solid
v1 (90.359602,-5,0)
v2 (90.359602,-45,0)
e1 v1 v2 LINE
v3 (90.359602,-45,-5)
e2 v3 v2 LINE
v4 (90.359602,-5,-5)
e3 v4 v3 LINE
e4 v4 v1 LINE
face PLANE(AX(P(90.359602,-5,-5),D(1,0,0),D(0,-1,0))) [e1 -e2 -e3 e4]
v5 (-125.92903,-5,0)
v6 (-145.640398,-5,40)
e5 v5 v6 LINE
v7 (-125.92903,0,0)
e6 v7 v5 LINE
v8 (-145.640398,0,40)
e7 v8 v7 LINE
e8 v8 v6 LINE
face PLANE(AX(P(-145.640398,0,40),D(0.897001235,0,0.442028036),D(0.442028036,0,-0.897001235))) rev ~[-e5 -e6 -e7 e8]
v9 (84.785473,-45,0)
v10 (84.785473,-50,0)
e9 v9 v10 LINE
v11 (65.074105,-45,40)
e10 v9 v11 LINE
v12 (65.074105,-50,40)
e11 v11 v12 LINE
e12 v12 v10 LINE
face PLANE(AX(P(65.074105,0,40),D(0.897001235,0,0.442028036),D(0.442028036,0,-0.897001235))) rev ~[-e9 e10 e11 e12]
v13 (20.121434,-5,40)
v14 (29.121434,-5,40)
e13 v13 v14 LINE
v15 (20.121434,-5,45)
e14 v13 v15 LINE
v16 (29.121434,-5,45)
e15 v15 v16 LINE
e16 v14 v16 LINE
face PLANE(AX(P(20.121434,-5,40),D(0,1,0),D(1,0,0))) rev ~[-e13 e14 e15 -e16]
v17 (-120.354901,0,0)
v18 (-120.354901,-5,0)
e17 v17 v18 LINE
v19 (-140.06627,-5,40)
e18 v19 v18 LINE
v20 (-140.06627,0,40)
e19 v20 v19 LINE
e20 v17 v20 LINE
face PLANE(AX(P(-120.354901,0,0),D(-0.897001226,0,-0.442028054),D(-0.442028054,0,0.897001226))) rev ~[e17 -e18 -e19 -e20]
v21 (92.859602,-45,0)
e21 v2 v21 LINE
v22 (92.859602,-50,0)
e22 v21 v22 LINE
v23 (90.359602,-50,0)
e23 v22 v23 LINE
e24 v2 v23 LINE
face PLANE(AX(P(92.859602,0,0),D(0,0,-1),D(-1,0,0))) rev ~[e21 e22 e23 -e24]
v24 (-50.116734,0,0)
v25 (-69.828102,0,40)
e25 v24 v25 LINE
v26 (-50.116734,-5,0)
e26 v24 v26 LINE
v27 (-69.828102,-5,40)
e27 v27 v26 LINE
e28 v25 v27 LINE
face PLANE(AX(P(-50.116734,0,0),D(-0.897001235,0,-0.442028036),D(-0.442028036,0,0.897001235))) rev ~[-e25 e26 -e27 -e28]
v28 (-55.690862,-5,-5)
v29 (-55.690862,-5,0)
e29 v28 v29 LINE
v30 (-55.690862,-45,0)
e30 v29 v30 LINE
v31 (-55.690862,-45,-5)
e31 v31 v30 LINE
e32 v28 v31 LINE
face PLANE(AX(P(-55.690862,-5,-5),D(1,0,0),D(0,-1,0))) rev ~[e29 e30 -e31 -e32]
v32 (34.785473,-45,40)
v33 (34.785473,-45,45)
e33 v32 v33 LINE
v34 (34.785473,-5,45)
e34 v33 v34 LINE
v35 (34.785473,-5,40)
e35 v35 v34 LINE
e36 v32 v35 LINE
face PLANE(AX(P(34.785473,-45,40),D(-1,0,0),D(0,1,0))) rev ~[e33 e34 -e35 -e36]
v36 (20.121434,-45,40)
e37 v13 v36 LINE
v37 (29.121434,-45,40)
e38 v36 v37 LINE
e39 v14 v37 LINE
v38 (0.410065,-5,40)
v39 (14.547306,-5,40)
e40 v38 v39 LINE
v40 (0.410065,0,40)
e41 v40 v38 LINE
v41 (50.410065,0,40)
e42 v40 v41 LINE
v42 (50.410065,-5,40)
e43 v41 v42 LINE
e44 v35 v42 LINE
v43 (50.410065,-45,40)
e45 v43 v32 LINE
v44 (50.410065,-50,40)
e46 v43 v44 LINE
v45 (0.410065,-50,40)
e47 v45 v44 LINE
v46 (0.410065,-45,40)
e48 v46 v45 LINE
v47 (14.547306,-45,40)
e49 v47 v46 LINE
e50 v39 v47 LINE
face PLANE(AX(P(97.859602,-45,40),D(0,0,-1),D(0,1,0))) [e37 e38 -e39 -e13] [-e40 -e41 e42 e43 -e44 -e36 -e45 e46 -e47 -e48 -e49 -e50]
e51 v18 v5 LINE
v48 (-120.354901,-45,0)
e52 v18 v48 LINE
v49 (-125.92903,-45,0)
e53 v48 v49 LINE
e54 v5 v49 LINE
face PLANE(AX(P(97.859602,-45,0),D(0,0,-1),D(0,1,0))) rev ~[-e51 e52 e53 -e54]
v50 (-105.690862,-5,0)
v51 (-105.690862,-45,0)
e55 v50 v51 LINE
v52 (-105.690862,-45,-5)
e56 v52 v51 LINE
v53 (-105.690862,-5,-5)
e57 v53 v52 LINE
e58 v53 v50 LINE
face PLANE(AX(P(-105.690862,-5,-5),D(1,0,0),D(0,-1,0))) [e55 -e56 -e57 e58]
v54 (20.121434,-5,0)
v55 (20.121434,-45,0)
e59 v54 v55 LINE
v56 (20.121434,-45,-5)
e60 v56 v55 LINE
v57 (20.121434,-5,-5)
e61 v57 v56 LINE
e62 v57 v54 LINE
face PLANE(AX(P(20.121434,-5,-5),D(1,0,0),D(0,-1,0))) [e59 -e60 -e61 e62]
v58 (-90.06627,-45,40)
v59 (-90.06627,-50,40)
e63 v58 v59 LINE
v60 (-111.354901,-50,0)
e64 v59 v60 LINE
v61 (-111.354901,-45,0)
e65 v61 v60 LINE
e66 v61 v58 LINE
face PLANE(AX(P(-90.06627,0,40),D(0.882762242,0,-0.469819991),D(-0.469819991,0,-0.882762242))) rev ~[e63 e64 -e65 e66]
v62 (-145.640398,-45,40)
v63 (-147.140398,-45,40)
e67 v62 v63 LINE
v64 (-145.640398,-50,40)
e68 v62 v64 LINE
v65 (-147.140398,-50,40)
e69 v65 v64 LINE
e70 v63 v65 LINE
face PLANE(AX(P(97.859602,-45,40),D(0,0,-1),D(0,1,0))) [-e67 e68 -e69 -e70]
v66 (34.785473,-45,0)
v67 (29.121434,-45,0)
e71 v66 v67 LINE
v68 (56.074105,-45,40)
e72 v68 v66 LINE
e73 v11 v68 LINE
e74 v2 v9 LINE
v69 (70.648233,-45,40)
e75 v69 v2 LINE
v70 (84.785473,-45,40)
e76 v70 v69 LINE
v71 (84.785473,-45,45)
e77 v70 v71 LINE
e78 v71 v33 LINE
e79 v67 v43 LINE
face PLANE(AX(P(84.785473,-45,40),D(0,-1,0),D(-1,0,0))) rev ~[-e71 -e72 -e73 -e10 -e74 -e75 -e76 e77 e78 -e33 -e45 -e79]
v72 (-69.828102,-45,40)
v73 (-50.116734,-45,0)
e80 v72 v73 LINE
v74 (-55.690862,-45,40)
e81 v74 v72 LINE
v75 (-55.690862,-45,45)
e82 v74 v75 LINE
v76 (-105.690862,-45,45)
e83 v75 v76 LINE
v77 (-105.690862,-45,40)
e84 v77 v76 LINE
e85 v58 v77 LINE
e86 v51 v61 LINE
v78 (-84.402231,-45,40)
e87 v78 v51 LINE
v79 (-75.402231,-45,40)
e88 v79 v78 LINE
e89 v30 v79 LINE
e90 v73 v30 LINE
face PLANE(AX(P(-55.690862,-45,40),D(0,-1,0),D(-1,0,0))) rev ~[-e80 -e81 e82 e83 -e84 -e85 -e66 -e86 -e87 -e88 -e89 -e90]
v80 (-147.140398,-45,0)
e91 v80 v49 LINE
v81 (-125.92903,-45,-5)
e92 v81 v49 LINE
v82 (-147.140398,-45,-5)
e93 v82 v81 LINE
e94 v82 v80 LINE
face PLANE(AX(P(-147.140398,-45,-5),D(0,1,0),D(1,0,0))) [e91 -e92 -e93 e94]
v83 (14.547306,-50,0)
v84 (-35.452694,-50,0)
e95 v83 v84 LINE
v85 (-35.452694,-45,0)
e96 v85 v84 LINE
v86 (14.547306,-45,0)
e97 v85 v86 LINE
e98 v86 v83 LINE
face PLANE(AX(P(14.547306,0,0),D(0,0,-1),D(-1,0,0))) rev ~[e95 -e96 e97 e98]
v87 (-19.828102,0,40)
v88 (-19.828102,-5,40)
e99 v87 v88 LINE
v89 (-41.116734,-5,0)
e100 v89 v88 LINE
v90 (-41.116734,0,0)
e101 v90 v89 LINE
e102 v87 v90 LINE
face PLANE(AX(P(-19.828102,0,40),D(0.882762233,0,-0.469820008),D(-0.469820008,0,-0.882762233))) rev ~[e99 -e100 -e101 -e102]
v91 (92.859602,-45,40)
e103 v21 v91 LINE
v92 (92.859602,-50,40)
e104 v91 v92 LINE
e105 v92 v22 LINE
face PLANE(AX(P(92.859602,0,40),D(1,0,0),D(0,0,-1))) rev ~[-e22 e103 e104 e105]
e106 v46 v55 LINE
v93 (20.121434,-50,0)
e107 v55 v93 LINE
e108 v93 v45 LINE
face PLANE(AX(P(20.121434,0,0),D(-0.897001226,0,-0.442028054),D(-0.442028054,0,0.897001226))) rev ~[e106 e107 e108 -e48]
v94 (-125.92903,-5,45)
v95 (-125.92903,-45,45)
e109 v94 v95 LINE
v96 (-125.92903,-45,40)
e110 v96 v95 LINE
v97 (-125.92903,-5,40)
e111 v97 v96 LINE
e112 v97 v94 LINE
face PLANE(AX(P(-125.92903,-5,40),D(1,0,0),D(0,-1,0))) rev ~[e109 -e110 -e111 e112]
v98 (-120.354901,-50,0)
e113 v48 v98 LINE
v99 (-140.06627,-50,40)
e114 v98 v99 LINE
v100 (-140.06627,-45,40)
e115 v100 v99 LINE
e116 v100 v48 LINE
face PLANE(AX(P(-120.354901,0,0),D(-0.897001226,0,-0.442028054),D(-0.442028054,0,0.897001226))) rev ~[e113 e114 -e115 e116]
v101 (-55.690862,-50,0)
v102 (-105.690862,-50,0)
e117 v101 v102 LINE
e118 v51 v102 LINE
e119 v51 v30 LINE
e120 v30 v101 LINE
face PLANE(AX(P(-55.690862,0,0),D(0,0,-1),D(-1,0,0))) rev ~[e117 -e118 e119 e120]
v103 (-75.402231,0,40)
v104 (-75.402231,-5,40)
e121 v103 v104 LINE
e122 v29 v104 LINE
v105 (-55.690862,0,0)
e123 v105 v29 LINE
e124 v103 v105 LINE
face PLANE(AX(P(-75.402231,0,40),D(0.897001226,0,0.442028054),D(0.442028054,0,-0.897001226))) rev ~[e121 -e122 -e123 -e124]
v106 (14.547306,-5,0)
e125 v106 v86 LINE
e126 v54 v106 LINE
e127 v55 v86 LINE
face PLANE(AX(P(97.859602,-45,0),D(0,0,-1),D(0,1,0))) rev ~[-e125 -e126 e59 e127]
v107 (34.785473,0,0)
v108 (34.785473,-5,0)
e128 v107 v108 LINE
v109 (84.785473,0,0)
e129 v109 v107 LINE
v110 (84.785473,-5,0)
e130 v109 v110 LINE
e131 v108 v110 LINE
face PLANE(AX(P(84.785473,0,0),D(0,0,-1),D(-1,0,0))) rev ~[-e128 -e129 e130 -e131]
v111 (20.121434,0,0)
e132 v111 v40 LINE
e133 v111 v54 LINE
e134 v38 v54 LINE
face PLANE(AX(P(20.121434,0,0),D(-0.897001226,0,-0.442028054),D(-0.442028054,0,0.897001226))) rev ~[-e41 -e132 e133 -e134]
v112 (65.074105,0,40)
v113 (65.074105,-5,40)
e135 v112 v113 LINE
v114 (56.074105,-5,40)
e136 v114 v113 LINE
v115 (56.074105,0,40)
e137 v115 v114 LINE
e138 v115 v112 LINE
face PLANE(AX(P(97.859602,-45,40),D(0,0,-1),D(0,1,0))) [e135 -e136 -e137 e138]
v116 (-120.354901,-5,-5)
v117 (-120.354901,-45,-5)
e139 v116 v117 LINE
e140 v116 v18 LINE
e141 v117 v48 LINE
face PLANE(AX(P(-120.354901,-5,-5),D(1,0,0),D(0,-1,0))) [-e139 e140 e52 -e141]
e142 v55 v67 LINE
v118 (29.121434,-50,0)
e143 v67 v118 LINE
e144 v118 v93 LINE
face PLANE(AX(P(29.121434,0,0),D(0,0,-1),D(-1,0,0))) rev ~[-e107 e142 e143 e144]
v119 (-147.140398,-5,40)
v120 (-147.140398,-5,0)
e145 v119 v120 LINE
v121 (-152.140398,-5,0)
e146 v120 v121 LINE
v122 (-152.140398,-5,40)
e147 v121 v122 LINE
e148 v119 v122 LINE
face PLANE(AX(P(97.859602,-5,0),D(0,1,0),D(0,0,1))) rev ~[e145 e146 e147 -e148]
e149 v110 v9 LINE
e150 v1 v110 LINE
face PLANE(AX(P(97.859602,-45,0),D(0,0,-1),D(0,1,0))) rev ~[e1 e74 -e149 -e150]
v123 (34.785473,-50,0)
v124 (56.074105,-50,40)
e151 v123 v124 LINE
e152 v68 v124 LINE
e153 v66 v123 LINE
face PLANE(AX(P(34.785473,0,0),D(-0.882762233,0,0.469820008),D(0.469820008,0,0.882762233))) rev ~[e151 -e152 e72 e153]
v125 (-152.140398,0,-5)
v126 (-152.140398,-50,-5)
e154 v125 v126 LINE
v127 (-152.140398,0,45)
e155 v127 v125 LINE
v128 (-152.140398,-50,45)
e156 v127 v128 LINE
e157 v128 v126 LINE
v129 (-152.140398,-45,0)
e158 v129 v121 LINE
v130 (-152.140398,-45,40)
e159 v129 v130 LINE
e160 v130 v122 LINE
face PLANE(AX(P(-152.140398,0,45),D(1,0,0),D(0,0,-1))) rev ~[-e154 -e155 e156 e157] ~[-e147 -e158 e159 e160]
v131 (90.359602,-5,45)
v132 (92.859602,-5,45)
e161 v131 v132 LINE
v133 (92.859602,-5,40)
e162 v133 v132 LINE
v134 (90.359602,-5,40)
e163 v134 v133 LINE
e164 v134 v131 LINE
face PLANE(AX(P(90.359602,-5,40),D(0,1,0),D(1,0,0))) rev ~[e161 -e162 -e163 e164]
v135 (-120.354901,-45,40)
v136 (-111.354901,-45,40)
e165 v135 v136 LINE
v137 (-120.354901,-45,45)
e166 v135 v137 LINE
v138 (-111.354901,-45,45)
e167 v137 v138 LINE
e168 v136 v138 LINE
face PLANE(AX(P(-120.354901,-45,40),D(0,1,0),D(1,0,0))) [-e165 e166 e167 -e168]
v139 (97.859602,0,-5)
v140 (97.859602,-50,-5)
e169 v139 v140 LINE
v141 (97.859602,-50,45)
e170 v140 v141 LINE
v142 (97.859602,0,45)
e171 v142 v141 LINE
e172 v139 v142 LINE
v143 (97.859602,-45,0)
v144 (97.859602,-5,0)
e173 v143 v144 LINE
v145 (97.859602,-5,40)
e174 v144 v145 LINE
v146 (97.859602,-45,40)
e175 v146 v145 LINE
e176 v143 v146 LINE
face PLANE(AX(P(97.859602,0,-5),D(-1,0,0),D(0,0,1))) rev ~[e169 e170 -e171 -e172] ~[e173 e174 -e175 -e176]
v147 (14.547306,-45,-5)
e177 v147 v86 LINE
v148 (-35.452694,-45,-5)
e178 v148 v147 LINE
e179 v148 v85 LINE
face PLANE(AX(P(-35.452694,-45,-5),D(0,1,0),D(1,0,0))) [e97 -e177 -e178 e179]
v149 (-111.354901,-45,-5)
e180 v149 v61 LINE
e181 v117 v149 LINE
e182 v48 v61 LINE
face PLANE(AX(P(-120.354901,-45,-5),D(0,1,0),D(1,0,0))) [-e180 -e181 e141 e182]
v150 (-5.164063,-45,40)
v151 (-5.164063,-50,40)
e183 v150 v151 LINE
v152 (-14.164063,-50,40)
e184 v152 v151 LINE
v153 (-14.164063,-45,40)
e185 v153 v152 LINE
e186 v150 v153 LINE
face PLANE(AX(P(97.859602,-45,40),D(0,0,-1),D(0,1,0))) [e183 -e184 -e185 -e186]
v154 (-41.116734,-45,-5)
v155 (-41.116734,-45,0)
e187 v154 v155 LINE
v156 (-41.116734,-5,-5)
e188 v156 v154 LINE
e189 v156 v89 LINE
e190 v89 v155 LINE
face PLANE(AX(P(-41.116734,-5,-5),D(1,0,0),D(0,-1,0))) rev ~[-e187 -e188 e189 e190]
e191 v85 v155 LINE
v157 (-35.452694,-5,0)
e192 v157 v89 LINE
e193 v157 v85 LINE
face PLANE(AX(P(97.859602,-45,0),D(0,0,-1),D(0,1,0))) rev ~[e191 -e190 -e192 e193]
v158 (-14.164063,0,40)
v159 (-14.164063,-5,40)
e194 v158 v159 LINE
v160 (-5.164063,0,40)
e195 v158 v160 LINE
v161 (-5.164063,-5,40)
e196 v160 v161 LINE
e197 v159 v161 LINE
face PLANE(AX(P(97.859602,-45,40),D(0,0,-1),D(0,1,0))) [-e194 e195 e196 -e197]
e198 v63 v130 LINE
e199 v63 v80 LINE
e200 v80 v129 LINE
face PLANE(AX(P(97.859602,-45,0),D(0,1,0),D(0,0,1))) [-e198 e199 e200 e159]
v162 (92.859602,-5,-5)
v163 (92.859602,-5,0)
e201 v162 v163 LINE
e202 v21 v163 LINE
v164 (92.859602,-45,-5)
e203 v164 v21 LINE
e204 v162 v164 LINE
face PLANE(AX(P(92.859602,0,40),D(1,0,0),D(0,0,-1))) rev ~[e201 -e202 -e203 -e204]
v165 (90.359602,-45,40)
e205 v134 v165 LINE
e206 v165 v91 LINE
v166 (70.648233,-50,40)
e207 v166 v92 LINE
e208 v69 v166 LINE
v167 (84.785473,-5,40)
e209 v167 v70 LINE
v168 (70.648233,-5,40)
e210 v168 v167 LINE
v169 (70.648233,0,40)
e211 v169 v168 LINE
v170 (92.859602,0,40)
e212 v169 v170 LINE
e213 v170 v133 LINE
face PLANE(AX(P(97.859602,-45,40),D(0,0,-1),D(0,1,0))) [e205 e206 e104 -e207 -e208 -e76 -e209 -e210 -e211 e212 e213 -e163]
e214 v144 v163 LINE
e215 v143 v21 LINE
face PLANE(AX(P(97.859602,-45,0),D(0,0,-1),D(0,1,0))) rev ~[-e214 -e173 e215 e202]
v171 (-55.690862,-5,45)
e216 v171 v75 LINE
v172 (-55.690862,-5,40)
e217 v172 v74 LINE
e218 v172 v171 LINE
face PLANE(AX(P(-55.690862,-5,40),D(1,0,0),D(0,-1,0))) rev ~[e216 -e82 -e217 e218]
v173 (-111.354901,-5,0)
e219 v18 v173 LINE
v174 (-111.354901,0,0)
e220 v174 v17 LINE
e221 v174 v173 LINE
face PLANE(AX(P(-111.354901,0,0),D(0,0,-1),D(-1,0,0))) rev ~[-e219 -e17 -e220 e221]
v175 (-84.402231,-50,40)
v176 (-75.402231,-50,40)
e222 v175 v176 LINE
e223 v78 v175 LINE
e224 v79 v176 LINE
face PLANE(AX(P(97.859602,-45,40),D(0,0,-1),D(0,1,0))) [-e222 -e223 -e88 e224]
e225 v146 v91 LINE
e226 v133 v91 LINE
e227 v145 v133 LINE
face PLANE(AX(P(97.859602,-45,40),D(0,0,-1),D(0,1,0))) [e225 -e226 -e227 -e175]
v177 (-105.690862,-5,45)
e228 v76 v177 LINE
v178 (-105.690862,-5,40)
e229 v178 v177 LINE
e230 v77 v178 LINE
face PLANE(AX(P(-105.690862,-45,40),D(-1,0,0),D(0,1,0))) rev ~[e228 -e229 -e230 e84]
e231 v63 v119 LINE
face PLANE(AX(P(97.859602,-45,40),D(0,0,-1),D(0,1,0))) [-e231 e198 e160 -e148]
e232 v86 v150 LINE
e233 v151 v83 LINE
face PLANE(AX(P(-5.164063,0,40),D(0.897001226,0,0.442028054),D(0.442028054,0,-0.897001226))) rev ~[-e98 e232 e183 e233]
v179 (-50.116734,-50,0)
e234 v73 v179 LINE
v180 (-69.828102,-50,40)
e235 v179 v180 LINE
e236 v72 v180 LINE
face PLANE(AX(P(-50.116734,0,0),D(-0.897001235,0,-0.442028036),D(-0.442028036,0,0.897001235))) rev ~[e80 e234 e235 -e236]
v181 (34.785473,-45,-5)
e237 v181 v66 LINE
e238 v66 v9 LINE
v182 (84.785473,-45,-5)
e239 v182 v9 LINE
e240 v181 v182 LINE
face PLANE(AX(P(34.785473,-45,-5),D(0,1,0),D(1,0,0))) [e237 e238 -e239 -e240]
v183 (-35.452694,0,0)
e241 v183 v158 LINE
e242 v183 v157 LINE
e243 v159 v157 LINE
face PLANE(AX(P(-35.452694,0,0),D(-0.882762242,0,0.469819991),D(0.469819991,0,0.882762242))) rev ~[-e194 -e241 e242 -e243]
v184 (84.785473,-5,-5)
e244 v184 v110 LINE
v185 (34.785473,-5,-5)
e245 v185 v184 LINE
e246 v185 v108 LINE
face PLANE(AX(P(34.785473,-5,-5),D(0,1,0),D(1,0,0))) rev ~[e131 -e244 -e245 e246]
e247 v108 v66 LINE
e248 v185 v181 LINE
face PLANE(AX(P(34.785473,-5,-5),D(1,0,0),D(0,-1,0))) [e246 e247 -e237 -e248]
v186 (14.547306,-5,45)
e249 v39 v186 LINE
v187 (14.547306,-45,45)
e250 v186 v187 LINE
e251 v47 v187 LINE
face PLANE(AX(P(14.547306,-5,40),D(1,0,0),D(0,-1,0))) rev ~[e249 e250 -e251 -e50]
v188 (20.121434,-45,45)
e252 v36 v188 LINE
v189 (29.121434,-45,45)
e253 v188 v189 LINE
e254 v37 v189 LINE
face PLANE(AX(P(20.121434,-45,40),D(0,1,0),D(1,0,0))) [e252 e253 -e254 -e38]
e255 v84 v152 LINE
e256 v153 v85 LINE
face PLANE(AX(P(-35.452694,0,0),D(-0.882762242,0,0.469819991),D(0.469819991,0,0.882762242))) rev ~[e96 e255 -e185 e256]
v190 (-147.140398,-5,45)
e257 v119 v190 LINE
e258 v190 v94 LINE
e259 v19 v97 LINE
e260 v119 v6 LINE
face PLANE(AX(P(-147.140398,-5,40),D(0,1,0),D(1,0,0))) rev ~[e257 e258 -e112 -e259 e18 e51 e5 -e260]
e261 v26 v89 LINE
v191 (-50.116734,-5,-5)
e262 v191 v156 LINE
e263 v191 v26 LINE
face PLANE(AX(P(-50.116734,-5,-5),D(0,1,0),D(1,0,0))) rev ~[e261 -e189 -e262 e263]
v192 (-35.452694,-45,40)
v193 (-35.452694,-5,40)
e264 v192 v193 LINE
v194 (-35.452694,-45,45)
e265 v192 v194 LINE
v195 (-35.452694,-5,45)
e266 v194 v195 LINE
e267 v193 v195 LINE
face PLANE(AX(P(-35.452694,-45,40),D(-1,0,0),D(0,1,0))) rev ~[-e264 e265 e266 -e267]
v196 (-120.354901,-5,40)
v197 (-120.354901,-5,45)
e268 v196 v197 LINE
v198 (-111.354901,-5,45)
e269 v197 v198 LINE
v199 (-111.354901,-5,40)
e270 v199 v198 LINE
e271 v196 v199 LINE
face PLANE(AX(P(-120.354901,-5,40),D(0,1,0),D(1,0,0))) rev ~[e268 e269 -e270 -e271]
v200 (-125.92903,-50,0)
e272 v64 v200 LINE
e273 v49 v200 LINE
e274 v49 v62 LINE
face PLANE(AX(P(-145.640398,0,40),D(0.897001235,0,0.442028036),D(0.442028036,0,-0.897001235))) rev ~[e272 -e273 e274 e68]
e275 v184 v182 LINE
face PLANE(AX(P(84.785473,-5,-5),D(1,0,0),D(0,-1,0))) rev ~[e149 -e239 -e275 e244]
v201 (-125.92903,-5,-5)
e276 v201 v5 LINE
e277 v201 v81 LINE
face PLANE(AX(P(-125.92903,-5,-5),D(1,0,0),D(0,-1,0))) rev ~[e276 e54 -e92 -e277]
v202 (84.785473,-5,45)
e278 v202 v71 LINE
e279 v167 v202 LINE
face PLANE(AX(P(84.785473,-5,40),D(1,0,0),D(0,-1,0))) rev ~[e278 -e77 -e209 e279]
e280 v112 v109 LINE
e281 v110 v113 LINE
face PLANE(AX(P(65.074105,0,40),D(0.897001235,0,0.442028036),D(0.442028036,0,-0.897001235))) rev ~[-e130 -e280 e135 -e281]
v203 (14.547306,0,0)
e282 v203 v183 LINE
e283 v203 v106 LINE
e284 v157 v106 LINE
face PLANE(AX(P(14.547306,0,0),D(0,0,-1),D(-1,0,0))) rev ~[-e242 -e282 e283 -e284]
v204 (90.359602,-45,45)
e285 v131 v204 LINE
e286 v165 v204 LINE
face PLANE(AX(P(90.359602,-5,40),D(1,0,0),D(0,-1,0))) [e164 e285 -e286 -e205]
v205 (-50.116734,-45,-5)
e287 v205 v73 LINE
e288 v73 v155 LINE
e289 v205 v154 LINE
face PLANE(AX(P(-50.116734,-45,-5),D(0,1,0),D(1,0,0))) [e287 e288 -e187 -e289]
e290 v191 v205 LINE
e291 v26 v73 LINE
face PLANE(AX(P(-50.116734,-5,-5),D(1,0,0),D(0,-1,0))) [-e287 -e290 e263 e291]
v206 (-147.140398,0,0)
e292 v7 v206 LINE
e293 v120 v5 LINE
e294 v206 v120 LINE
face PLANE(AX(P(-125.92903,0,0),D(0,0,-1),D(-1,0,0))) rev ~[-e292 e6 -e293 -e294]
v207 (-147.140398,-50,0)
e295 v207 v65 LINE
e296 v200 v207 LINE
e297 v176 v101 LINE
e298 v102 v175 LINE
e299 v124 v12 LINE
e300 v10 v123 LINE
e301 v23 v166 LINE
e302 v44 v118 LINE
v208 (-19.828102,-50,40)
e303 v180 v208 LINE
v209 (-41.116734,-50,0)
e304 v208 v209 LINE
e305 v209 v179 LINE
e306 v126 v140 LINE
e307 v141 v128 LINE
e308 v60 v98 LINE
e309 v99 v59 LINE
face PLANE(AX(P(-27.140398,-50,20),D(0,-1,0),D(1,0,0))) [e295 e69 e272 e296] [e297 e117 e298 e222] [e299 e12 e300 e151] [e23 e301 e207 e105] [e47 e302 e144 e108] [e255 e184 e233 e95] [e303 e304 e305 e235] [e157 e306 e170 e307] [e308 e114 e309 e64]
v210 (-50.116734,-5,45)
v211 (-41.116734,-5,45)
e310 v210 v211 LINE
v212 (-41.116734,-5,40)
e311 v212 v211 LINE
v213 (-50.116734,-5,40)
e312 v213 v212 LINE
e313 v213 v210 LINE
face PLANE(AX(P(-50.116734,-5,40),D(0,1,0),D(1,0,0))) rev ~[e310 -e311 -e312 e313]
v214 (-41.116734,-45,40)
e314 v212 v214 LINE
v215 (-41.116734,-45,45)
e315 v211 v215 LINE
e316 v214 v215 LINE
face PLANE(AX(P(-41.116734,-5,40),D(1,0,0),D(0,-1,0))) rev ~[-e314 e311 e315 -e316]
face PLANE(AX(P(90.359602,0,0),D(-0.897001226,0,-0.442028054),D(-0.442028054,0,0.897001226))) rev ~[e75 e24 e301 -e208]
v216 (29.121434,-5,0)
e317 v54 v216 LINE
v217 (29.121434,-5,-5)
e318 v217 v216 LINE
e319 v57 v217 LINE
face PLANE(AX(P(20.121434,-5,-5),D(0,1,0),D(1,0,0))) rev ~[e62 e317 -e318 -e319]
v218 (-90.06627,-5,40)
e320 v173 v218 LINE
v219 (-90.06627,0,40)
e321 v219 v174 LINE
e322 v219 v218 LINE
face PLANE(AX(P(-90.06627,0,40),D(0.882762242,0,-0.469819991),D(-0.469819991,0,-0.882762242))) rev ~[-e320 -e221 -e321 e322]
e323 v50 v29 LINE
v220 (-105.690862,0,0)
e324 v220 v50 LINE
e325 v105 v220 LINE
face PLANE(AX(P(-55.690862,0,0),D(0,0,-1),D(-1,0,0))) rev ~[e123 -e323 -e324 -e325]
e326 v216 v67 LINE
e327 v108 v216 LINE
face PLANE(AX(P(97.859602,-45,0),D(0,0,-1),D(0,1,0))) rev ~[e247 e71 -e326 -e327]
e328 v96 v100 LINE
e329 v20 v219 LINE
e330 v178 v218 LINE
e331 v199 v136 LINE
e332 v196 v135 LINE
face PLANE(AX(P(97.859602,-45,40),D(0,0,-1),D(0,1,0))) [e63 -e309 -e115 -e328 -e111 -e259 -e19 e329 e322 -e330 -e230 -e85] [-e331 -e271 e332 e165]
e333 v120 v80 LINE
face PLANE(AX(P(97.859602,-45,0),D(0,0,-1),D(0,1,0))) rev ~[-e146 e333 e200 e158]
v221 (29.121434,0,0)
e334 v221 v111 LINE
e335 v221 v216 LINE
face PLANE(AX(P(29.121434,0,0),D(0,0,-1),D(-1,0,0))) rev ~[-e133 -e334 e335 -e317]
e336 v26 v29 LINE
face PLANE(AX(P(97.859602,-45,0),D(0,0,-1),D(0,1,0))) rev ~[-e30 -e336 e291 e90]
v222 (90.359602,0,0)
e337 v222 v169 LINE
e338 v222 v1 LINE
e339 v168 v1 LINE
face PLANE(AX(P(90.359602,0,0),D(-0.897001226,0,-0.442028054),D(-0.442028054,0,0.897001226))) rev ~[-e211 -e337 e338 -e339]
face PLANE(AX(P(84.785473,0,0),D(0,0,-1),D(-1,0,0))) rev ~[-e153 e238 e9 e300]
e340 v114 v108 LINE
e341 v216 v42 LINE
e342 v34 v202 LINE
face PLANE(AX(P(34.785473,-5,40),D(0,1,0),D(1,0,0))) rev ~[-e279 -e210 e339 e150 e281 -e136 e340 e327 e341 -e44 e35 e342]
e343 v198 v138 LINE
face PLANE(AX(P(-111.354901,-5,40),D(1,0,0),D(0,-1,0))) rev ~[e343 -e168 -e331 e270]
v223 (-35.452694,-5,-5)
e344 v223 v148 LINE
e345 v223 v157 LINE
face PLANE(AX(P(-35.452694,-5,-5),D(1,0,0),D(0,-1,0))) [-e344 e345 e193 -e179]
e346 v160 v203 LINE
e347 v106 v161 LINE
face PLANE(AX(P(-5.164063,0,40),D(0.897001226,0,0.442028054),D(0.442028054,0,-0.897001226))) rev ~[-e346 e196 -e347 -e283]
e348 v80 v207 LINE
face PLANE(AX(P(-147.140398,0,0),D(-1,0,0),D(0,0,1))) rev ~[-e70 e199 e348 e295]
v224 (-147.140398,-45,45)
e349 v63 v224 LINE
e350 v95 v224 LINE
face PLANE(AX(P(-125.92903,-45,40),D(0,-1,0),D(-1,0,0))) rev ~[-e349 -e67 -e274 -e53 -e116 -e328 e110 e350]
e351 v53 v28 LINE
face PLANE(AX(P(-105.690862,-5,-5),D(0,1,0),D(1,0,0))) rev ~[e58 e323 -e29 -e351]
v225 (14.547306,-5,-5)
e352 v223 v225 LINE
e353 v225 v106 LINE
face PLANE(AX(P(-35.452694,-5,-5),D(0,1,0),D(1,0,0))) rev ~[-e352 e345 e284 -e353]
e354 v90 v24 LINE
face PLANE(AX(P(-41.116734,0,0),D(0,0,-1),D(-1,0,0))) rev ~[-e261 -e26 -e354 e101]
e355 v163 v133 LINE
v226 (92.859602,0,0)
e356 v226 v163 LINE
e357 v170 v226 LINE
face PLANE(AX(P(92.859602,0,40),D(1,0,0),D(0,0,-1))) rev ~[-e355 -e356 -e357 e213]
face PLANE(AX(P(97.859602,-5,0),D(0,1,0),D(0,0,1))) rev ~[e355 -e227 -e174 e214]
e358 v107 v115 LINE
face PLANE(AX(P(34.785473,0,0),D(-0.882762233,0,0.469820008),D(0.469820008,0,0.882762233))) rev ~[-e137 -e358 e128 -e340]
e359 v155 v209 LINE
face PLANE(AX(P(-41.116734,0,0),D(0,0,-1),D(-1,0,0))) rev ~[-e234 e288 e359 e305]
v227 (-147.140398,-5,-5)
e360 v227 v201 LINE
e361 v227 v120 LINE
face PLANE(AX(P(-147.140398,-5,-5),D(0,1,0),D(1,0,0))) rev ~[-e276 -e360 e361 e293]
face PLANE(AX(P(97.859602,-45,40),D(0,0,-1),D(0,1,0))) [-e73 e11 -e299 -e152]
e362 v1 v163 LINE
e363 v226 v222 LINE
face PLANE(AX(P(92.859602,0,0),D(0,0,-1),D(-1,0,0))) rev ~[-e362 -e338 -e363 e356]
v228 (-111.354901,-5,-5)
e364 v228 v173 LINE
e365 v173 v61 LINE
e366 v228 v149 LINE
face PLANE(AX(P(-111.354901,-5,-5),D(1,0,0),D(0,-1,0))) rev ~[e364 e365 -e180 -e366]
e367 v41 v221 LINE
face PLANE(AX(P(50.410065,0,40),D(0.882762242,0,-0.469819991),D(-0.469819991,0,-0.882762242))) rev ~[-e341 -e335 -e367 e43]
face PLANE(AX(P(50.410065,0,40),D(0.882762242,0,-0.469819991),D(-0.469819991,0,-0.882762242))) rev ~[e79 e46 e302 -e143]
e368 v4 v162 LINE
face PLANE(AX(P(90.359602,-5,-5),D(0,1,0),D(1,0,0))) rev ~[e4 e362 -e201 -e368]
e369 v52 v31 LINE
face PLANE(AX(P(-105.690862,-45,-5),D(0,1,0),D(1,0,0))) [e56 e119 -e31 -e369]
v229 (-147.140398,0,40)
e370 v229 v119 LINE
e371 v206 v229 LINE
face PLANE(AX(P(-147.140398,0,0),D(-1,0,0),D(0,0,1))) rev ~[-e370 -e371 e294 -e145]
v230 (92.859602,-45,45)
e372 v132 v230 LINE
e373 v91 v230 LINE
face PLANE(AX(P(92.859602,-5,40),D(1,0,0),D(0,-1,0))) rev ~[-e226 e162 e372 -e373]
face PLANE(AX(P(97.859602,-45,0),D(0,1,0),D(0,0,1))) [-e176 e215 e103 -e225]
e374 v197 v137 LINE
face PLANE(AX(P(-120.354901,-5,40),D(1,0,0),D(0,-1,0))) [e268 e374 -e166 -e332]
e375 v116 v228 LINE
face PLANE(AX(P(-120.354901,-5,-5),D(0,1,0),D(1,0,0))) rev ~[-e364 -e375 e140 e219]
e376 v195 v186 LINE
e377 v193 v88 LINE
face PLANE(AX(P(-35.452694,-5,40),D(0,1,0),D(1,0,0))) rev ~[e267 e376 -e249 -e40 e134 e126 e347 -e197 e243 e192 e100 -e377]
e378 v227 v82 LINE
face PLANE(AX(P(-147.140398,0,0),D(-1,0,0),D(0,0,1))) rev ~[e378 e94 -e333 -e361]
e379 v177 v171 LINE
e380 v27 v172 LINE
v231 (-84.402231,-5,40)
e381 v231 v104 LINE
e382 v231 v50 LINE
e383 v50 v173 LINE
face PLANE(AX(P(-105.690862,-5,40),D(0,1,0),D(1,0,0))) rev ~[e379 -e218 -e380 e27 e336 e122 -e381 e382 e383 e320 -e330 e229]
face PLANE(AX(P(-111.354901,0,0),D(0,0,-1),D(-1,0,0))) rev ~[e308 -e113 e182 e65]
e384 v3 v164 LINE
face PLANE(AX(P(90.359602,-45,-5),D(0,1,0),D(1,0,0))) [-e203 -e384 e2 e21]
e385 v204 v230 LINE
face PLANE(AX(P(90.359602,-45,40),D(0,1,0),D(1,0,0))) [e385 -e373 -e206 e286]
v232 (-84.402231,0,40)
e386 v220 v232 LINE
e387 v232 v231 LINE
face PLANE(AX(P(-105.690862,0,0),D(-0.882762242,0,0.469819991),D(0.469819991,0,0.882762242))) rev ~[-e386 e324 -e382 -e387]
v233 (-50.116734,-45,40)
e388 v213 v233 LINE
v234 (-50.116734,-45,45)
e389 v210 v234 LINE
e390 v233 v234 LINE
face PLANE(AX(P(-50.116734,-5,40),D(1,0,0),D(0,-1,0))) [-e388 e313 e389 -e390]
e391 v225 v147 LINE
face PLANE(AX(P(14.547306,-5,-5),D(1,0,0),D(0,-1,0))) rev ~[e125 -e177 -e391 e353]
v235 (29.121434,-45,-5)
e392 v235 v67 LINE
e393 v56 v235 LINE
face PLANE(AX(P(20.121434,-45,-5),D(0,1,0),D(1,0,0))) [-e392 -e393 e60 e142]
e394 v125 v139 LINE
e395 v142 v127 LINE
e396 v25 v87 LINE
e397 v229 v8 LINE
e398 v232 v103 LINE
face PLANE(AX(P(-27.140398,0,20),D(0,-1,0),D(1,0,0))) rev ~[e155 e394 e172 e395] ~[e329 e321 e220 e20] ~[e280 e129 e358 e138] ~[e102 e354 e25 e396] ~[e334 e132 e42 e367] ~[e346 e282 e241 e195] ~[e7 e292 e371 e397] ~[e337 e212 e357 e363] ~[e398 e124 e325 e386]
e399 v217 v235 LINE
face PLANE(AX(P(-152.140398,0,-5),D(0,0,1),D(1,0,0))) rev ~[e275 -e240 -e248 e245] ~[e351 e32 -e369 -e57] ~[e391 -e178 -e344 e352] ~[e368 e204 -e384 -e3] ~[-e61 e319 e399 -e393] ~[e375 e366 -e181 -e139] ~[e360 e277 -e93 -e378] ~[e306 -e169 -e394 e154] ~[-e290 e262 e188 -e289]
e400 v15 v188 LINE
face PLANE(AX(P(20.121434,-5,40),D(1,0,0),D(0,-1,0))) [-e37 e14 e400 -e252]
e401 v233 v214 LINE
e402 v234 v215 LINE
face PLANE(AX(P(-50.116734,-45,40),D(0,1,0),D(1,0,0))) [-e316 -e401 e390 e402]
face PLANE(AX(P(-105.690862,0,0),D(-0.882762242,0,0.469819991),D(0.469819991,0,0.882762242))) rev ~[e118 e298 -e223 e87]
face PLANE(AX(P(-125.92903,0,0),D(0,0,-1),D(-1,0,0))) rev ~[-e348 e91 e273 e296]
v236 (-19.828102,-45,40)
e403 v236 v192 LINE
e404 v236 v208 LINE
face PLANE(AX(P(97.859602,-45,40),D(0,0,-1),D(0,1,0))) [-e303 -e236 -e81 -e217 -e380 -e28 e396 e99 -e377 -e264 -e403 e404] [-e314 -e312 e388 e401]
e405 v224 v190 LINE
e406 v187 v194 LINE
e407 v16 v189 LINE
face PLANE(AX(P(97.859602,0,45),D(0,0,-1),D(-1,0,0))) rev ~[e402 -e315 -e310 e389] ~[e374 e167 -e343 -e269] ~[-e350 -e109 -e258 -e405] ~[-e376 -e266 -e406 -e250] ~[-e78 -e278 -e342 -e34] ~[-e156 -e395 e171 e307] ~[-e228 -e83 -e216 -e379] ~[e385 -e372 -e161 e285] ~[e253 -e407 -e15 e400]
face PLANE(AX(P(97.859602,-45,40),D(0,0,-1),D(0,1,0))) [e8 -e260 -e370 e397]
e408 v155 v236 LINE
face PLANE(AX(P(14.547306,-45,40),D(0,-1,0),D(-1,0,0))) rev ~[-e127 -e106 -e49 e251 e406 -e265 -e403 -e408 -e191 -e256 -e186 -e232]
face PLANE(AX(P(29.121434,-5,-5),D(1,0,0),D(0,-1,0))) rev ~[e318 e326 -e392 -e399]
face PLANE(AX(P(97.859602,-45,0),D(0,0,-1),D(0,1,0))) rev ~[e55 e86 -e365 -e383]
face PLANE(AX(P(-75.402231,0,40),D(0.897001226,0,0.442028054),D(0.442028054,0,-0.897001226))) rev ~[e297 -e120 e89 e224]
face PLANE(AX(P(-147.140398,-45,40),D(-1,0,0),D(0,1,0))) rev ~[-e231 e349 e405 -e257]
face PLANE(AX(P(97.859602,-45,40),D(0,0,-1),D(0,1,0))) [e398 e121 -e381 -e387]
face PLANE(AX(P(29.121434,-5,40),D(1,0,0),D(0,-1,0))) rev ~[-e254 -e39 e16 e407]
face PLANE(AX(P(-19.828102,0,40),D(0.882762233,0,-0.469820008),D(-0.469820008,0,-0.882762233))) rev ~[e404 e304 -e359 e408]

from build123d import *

# Parameters (mm, degrees)
F1_DEPTH = 50
F2_W     = 2.5
F2_H     = 40
F2_W_2   = 50
F2_W_3   = 9
F2_W_4   = 21.211368
F3_DEPTH = 5
F4_W     = 40
F4_H     = 40
F5_DEPTH = 350
F6_W     = 9
F6_H     = 40
F6_W_2   = 2.5
F7_DEPTH = 25


with BuildPart() as f1:
    # F0 (on Front) → F1 (new body)
    with BuildSketch(Plane.XZ):
        Polygon((97.859602, 45), (-152.140398, 45), (-152.140398, -5), (97.859602, -5), (97.859602, 0), align=None)
        Polygon((-147.140398, 40), (-145.640398, 40), (-125.92903, 0), (-147.140398, 0), align=None, mode=Mode.SUBTRACT)
        Polygon((-90.06627, 40), (-111.354901, 0), (-120.354901, 0), (-140.06627, 40), align=None, mode=Mode.SUBTRACT)
        Polygon((-55.690862, 0), (-105.690862, 0), (-84.402231, 40), (-75.402231, 40), align=None, mode=Mode.SUBTRACT)
        Polygon((-50.116734, 0), (-69.828102, 40), (-19.828102, 40), (-41.116734, 0), align=None, mode=Mode.SUBTRACT)
        Polygon((-14.164063, 40), (-5.164063, 40), (14.547306, 0), (-35.452694, 0), align=None, mode=Mode.SUBTRACT)
        Polygon((20.121434, 0), (0.410065, 40), (50.410065, 40), (29.121434, 0), align=None, mode=Mode.SUBTRACT)
        Polygon((65.074105, 40), (84.785473, 0), (34.785473, 0), (56.074105, 40), align=None, mode=Mode.SUBTRACT)
        Polygon((92.859602, 40), (92.859602, 0), (90.359602, 0), (70.648233, 40), align=None, mode=Mode.SUBTRACT)
    extrude(amount=F1_DEPTH)

    # F2 (on face) → F3 (cut)
    with BuildSketch(Plane(origin=(0, 0, -5), x_dir=(1, 0, 0), z_dir=(0, 0, -1))):
        with Locations((91.609602, 25)):
            Rectangle(F2_W, F2_H)
        with Locations((59.785473, 25)):
            Rectangle(F2_W_2, F2_H)
        with Locations((-10.452694, 25)):
            Rectangle(F2_W_2, F2_H)
        with Locations((24.621434, 25)):
            Rectangle(F2_W_3, F2_H)
        with Locations((-80.690862, 25)):
            Rectangle(F2_W_2, F2_H)
        with Locations((-45.616734, 25)):
            Rectangle(F2_W_3, F2_H)
        with Locations((-136.534714, 25)):
            Rectangle(F2_W_4, F2_H)
        with Locations((-115.854901, 25)):
            Rectangle(F2_W_3, F2_H)
    extrude(amount=-F3_DEPTH, mode=Mode.SUBTRACT)

    # F4 (on face) → F5 (cut)
    with BuildSketch(Plane.YZ.offset(97.859602)):
        with Locations((-25, 20)):
            Rectangle(F4_W, F4_H)
    extrude(amount=-F5_DEPTH, mode=Mode.SUBTRACT)

    # F6 (on face) → F7 (cut)
    with BuildSketch(Plane(origin=(0, 0, 40), x_dir=(1, 0, 0), z_dir=(0, 0, -1))):
        Polygon((-145.640398, 5), (-140.06627, 5), (-125.92903, 5), (-125.92903, 45), (-140.06627, 45), (-145.640398, 45), (-147.140398, 45), (-147.140398, 5), align=None)
        with Locations((-115.854901, 25)):
            Rectangle(F6_W, F6_H)
        Polygon((-5.164063, 5), (0.410065, 5), (14.547306, 5), (14.547306, 45), (0.410065, 45), (-5.164063, 45), (-14.164063, 45), (-19.828102, 45), (-35.452694, 45), (-35.452694, 5), (-19.828102, 5), (-14.164063, 5), align=None)
        Polygon((-75.402231, 5), (-69.828102, 5), (-55.690862, 5), (-55.690862, 45), (-69.828102, 45), (-75.402231, 45), (-84.402231, 45), (-90.06627, 45), (-105.690862, 45), (-105.690862, 5), (-90.06627, 5), (-84.402231, 5), align=None)
        with Locations((-45.616734, 25)):
            Rectangle(F6_W, F6_H)
        with Locations((24.621434, 25)):
            Rectangle(F6_W, F6_H)
        Polygon((65.074105, 5), (70.648233, 5), (84.785473, 5), (84.785473, 45), (70.648233, 45), (65.074105, 45), (56.074105, 45), (50.410065, 45), (34.785473, 45), (34.785473, 5), (50.410065, 5), (56.074105, 5), align=None)
        with Locations((91.609602, 25)):
            Rectangle(F6_W_2, F6_H)
    extrude(amount=-F7_DEPTH, mode=Mode.SUBTRACT)


solid = f1.part
